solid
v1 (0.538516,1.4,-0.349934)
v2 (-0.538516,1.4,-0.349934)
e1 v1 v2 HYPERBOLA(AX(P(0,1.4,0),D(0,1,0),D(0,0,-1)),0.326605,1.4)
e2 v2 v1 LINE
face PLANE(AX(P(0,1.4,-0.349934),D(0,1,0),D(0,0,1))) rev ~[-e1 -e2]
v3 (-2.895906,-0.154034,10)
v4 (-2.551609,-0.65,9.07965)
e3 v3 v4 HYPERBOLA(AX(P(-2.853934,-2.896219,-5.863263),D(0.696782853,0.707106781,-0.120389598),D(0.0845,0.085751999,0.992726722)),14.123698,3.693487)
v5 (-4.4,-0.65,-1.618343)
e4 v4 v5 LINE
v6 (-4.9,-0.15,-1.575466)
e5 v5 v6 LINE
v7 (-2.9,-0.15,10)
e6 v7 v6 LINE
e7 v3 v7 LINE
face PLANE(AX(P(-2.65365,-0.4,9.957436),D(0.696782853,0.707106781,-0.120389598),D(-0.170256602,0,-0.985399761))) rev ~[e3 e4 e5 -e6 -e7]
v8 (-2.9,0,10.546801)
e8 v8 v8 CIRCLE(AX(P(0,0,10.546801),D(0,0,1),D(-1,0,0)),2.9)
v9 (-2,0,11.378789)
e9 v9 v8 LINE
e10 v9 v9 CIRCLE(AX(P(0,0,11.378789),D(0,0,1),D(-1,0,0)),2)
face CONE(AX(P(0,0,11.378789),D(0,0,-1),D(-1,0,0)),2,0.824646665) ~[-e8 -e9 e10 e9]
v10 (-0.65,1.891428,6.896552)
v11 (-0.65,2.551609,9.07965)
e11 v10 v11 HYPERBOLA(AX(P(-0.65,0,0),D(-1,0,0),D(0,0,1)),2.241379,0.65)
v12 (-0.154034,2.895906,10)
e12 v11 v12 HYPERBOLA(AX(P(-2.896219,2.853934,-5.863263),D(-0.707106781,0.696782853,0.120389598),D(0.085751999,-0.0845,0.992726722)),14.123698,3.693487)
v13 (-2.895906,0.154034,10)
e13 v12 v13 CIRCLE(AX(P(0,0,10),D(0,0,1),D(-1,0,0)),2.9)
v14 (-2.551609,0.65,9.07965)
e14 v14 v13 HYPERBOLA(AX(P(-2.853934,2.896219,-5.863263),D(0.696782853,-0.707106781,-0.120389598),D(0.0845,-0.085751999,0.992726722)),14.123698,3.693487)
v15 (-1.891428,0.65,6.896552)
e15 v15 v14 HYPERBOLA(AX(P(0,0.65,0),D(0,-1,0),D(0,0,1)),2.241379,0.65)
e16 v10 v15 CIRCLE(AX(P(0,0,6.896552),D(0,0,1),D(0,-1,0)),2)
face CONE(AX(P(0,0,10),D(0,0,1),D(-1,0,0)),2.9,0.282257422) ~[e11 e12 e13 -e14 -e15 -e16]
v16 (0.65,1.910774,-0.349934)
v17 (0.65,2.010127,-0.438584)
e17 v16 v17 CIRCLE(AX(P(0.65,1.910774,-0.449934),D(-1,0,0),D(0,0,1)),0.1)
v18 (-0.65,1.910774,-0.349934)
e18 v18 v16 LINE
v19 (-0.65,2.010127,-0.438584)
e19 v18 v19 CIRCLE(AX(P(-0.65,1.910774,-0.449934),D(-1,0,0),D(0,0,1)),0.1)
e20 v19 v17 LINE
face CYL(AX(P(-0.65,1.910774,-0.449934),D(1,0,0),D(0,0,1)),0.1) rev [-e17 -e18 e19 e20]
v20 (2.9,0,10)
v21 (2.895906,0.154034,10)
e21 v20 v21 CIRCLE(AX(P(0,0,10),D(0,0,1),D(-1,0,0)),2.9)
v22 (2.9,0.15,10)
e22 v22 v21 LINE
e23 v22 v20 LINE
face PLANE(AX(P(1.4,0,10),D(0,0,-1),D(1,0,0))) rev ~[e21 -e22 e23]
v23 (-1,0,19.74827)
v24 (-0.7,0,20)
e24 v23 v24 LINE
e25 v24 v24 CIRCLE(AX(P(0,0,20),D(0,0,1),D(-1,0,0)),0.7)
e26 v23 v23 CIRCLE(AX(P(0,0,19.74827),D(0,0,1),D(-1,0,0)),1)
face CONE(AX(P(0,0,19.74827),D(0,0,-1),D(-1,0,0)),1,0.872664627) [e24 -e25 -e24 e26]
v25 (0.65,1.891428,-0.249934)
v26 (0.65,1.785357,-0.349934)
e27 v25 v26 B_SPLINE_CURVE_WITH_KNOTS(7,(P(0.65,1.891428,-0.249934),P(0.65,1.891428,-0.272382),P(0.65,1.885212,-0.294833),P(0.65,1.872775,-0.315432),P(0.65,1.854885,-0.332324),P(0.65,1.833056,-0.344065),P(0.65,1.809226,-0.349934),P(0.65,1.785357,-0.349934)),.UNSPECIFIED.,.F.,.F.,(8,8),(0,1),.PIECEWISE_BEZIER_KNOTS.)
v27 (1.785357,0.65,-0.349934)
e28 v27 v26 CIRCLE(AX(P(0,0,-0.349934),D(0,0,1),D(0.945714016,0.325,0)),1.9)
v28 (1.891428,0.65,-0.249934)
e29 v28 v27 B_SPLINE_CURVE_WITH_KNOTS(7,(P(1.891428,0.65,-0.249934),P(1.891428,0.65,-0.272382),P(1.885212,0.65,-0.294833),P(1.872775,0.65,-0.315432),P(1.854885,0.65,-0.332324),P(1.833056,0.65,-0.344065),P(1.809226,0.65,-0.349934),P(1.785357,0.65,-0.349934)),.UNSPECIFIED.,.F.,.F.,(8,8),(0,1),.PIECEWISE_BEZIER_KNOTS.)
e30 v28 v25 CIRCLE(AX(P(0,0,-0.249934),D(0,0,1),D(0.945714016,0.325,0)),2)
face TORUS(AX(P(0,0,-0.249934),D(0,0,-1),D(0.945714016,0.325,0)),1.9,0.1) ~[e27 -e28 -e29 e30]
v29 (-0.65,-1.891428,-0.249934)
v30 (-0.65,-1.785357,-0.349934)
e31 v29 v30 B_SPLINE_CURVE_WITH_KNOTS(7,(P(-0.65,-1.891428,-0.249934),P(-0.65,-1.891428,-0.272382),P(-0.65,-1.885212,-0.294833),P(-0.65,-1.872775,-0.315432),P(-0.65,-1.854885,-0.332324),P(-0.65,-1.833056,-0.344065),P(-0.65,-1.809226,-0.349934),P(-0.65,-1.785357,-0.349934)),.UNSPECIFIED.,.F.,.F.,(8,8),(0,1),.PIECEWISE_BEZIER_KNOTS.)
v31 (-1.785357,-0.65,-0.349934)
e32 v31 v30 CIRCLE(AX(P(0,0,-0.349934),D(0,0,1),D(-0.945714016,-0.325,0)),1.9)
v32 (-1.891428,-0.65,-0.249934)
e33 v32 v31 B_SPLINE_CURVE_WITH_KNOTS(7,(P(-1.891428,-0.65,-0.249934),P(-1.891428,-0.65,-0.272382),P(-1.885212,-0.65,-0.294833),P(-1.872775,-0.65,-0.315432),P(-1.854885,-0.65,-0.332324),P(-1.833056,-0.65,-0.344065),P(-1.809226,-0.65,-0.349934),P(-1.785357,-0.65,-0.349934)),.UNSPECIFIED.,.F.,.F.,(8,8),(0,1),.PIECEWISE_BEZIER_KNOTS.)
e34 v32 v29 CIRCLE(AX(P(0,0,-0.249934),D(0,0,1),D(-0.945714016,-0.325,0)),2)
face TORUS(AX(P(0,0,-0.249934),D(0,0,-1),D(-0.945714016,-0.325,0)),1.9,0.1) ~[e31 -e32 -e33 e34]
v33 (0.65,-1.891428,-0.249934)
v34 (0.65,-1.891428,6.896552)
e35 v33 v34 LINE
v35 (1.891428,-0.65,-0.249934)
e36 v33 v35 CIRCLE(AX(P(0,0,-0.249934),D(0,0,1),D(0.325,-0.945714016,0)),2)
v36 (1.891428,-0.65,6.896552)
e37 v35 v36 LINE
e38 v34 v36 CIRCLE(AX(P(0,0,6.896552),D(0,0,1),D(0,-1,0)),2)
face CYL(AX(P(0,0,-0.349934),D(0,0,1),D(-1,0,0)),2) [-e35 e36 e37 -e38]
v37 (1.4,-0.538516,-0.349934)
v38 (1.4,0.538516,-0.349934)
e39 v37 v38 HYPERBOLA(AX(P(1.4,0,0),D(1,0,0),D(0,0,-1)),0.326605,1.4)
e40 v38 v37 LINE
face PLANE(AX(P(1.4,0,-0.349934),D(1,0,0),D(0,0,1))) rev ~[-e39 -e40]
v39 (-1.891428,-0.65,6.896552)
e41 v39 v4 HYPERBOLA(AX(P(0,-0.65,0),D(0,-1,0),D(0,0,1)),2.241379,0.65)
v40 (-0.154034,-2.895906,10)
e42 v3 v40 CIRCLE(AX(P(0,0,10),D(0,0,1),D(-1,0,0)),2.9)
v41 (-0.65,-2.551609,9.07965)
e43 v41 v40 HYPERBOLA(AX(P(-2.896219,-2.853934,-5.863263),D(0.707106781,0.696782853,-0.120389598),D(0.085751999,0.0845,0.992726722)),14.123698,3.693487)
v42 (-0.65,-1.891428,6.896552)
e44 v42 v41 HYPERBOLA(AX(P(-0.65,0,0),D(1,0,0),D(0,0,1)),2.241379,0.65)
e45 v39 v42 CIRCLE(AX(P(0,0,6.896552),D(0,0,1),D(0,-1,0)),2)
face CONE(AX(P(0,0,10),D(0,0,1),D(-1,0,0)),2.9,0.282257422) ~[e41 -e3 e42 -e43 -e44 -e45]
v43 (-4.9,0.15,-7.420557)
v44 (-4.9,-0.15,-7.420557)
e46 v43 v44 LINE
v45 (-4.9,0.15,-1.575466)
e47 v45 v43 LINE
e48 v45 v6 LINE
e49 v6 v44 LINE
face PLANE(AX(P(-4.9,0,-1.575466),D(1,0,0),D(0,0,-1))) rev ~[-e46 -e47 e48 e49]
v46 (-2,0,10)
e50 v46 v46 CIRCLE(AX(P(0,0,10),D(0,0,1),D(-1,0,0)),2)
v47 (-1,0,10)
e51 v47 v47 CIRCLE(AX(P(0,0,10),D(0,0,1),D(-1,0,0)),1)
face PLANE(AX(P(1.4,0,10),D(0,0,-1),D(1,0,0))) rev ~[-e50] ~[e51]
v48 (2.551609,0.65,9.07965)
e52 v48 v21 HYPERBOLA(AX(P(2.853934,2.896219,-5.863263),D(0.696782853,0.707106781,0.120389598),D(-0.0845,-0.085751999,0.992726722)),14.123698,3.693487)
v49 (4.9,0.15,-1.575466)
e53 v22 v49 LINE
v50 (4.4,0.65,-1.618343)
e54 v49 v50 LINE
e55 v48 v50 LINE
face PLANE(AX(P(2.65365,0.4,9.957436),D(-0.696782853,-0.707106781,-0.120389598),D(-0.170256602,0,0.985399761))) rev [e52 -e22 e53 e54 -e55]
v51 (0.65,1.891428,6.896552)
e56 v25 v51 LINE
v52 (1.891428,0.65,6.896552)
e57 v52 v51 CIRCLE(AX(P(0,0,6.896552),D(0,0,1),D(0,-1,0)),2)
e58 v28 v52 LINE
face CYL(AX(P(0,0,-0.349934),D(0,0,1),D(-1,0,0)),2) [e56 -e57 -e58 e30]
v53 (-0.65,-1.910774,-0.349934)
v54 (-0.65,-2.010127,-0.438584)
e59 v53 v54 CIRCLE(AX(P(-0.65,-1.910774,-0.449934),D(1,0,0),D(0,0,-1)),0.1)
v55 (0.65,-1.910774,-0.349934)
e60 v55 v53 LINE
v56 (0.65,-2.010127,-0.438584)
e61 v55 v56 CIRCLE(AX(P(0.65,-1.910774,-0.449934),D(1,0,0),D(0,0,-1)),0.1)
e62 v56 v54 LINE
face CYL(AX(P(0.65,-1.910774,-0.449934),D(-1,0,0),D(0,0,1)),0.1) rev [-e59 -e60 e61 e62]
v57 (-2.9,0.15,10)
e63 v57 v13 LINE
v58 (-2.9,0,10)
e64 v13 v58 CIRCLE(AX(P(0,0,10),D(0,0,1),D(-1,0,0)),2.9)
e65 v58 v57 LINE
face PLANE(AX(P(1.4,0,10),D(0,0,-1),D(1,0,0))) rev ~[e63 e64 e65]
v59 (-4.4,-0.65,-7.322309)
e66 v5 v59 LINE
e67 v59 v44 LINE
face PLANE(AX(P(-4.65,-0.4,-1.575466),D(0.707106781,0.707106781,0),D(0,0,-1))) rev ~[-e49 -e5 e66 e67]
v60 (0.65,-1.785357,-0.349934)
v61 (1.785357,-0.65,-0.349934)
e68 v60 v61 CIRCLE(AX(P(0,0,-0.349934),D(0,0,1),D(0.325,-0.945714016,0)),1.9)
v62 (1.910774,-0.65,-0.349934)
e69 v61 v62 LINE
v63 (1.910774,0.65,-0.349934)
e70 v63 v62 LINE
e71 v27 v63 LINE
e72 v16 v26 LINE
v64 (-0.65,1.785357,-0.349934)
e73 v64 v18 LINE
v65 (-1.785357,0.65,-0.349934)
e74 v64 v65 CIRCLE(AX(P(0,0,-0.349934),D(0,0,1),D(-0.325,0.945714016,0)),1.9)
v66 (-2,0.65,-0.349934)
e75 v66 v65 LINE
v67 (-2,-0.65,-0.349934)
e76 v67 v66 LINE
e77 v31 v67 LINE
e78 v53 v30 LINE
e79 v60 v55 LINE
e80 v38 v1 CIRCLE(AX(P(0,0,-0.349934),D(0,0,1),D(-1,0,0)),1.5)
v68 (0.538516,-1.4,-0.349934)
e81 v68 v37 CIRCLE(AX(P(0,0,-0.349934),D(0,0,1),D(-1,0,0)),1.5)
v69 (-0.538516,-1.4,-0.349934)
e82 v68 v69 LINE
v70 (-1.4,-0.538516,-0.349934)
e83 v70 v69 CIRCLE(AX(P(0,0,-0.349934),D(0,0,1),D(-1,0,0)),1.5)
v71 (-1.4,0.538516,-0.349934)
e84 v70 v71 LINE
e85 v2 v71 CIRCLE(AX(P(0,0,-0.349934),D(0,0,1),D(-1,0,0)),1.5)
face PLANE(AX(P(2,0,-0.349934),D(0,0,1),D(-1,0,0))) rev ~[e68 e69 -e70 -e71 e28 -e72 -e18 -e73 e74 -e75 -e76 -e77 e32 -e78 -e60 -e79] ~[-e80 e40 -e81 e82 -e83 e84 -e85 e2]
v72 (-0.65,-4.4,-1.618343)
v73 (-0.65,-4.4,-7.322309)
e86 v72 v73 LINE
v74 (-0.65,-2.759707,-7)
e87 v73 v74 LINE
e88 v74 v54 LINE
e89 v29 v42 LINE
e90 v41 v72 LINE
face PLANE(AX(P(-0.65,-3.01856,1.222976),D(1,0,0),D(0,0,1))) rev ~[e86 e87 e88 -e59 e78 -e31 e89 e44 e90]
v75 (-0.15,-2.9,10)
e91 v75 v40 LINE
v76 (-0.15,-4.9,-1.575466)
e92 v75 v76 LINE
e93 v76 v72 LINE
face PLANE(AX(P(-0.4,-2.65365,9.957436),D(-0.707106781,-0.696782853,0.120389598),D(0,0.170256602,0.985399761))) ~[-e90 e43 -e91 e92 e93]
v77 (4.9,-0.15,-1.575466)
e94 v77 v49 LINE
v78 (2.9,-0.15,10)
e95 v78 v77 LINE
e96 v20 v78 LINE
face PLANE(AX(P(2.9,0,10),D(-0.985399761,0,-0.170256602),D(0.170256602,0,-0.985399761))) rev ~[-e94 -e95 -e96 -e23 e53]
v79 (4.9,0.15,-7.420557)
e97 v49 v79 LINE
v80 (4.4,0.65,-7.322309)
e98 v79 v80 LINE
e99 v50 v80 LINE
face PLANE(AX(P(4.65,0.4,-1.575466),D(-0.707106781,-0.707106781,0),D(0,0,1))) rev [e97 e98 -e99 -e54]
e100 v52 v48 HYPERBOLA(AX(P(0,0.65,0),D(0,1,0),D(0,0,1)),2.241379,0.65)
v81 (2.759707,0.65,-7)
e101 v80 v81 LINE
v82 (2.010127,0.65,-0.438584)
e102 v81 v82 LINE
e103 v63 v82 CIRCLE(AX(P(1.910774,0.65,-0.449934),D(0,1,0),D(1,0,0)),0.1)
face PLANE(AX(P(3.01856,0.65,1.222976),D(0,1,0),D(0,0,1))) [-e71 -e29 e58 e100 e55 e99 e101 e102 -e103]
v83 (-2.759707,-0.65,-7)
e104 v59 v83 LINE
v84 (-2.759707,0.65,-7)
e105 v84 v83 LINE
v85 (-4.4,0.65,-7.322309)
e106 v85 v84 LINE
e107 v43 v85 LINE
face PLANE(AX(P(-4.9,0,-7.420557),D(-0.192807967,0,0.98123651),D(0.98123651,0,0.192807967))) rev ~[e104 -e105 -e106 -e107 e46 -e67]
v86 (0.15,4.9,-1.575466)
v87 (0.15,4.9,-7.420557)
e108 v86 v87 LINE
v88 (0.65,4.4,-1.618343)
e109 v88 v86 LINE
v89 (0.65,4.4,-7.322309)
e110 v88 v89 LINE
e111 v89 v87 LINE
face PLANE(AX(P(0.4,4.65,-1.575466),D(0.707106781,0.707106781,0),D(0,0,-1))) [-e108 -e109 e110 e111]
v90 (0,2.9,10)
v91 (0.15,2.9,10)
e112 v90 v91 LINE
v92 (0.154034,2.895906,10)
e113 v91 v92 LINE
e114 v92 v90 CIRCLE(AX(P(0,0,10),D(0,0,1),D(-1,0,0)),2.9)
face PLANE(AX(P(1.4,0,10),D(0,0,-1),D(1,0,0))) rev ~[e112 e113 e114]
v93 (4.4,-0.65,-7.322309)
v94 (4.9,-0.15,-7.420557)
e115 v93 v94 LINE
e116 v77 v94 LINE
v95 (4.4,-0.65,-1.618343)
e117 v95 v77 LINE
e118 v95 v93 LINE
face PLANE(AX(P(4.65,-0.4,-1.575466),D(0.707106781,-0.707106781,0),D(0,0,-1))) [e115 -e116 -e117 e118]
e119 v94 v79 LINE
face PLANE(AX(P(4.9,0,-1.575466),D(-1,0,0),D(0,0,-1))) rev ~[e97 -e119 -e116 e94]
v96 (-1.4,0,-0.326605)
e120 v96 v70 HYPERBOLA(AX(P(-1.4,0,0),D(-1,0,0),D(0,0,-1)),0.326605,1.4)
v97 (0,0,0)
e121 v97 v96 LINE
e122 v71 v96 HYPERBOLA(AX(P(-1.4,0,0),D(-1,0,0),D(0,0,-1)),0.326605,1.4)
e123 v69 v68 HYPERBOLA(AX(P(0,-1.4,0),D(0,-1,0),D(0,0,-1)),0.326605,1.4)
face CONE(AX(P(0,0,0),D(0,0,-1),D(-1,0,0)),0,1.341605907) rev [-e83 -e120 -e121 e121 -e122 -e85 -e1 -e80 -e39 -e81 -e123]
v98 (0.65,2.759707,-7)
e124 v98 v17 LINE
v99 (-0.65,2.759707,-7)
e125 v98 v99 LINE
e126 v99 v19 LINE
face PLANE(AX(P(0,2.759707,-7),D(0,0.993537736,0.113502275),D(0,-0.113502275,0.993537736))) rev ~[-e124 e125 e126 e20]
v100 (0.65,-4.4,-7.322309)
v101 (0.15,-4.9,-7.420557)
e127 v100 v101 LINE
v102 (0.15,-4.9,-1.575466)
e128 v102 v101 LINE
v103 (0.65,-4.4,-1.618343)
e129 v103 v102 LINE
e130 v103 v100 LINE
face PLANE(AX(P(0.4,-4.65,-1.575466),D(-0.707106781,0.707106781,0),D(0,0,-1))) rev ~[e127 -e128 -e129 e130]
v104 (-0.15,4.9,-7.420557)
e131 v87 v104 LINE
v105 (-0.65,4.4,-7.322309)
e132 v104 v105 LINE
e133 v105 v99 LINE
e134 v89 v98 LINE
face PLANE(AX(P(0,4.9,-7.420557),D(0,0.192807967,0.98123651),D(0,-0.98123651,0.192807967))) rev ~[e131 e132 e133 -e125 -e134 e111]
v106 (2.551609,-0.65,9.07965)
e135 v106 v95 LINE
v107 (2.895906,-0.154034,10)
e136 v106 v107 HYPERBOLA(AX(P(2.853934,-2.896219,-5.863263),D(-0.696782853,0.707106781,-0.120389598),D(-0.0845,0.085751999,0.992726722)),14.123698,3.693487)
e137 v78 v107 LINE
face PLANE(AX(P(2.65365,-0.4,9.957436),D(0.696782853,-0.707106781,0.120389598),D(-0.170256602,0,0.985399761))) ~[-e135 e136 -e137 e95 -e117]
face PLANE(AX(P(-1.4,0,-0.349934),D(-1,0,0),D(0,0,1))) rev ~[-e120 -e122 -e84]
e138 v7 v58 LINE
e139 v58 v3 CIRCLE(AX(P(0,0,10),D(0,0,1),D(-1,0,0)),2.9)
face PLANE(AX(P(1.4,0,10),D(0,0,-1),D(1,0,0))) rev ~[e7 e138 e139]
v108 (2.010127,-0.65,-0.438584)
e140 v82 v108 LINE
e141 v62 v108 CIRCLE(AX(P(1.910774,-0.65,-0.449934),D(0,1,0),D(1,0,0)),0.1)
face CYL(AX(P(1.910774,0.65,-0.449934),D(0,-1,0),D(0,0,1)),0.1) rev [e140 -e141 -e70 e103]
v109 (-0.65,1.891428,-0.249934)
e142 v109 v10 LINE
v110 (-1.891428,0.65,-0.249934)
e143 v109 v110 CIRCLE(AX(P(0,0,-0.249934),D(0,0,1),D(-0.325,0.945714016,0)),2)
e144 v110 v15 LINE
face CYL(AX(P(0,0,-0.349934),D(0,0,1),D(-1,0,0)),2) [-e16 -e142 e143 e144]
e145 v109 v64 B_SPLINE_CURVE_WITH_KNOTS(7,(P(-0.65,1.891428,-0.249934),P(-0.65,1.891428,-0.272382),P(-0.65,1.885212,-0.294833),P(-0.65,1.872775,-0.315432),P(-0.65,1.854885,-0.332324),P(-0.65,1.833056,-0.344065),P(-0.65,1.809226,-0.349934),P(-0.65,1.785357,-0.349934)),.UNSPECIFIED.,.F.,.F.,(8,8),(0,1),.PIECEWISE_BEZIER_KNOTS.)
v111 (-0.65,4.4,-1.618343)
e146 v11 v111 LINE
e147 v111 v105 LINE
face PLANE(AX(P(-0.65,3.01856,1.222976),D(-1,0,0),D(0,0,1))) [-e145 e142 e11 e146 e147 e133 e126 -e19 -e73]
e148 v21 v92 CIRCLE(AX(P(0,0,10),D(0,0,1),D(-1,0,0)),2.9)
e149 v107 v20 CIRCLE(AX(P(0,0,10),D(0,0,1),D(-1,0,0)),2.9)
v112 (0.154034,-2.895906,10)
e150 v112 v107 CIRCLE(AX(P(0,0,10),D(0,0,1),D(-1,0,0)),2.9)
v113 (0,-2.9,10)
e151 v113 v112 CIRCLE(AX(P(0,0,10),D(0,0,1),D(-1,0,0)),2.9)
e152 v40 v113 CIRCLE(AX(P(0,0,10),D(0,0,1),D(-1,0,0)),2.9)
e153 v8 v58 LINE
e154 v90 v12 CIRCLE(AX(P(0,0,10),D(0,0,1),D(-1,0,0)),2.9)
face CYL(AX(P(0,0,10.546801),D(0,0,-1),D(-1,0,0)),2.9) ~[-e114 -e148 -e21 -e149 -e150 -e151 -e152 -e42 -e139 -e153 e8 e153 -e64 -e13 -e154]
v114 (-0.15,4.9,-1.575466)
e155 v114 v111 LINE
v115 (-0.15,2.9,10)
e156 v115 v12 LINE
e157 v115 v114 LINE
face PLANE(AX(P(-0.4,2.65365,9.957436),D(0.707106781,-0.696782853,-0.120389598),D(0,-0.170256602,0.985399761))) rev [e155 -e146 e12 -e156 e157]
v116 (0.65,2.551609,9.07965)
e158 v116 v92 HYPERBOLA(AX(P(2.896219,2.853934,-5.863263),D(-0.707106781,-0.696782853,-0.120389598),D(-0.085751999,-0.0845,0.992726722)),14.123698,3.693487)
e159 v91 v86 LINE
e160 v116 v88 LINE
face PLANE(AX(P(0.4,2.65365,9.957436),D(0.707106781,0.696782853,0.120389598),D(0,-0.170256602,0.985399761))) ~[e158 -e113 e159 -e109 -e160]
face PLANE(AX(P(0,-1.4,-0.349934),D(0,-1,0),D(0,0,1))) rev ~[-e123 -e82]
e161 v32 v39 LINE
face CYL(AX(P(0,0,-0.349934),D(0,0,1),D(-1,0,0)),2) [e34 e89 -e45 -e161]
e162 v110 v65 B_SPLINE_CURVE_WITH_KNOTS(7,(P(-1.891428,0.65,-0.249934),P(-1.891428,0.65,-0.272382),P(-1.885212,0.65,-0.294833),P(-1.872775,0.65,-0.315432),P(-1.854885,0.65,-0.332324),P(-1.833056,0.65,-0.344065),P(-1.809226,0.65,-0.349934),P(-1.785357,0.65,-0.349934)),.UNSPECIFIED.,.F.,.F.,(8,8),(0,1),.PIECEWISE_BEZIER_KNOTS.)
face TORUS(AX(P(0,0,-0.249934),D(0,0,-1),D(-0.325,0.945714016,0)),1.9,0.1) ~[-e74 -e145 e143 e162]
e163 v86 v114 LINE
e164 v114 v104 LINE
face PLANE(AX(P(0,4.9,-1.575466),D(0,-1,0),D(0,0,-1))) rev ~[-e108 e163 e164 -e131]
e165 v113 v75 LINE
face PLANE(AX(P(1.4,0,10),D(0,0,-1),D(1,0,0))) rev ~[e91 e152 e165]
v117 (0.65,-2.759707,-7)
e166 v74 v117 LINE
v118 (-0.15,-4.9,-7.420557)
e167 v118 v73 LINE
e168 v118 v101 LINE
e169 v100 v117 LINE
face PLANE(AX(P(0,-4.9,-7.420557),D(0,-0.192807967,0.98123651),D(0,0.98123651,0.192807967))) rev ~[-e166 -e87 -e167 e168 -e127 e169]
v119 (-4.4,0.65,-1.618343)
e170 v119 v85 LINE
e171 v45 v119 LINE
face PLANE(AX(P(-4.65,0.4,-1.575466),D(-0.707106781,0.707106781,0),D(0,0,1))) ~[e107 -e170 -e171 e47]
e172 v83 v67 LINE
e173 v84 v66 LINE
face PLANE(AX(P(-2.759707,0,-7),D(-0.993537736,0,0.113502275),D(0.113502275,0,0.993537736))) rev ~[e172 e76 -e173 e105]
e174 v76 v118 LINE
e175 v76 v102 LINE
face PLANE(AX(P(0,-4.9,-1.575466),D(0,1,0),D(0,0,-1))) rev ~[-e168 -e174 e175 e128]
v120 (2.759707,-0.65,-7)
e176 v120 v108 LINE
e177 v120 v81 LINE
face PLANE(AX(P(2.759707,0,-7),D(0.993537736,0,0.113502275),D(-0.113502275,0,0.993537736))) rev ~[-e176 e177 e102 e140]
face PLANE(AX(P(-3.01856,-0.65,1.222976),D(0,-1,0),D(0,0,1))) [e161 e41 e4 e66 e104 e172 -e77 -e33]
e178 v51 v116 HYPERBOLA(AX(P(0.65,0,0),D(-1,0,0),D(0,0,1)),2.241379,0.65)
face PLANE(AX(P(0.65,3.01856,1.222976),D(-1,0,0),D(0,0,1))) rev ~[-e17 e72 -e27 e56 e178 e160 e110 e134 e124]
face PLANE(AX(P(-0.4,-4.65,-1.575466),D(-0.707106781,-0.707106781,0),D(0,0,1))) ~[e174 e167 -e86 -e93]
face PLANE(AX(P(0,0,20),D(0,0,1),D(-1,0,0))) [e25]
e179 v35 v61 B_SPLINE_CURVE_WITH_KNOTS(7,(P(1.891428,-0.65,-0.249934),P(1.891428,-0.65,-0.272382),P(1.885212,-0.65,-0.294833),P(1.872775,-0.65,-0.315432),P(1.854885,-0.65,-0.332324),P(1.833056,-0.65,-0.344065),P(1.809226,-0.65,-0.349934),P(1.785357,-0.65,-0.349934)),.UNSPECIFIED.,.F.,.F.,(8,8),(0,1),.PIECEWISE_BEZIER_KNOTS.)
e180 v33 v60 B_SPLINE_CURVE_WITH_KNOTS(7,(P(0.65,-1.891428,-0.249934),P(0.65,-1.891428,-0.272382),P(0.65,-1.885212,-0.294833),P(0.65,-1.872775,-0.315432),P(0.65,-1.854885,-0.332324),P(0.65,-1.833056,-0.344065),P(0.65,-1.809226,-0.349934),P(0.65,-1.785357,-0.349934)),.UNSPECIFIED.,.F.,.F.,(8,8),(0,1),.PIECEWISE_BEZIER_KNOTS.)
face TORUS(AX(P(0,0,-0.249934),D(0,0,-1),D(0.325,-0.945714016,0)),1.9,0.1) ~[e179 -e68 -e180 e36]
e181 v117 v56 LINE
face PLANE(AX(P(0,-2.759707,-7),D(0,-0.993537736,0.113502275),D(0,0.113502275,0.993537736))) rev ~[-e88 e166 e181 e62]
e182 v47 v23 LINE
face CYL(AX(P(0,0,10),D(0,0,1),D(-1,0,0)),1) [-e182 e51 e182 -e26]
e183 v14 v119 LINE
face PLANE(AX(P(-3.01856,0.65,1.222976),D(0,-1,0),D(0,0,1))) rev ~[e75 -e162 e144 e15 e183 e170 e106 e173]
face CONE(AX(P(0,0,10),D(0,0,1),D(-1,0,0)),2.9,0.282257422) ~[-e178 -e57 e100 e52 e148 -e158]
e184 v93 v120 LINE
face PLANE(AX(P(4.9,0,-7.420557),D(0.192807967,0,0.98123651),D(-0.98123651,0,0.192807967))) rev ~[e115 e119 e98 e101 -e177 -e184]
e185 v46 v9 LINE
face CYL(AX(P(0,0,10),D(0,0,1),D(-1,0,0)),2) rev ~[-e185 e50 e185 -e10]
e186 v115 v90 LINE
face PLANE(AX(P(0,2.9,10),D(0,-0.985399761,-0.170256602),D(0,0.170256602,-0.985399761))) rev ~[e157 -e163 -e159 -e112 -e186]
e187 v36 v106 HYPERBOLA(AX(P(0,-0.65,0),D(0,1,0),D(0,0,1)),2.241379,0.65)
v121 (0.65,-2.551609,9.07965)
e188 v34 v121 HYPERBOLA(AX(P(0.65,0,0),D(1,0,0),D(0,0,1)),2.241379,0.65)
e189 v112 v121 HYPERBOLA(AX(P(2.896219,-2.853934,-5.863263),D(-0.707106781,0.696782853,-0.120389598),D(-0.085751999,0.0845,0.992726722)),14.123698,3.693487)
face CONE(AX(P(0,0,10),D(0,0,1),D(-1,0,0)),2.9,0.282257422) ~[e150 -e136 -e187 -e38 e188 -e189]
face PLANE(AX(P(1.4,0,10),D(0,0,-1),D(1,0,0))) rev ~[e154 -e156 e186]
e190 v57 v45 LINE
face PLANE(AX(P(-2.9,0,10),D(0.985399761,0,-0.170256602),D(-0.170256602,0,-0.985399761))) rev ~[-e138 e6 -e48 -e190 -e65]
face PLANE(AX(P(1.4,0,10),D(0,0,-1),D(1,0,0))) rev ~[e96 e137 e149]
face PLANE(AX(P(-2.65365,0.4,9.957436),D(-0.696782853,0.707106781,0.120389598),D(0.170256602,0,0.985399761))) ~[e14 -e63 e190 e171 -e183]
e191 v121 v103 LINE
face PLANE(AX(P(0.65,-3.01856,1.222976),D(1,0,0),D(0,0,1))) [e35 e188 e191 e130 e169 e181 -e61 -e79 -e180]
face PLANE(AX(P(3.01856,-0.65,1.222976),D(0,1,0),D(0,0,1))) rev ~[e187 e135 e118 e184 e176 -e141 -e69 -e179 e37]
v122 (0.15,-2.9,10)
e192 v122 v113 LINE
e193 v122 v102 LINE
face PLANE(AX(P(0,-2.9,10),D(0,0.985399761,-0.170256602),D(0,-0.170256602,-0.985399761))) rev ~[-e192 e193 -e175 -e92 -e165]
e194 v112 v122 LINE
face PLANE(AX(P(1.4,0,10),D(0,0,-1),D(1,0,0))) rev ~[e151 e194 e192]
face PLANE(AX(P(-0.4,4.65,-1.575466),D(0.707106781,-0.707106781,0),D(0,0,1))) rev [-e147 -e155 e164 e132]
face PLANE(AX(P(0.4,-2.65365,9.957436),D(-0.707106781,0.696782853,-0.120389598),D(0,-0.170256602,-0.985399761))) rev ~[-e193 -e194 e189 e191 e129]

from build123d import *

# Parameters (mm, degrees)
EXTRUDE_1_DEPTH                      = 0.65
CHAMFER_1_SIZE                       = 0.5
PATTERN_CIRCULAR_2_COUNT             = 4
CHAMFER_1_OF_PATTERN_CIRCULAR_2_SIZE = 0.5
FILLET_1_R                           = 0.1


with BuildPart() as part:
    # 스케치1 → 회전1 (revolve)
    with BuildSketch(Plane(origin=(0, 0, 0), x_dir=(1, 0, 0), z_dir=(0, 1, 0)), mode=Mode.PRIVATE) as revolve_1_sk:
        Polygon((0, 0), (1.5, 0.34993434), (2, 0.34993434), (2, -10), (1, -10), (1, -19.748270111), (0.7, -20), (0, -20), align=None)
    revolve(revolve_1_sk.sketch.rotate(Axis((0, 0, 0), (0, 0, 1)), 180), axis=Axis((0, 0, 0), (0, 0, 1)))

    # 스케치2 → 보스-돌출1 (add, symmetric)
    with BuildSketch(Plane(origin=(0, 0, 0), x_dir=(0, 0, -1), z_dir=(1, 0, 0))):
        Polygon((-10, 2.9), (1.575466057, 4.9), (7.420556651, 4.9), (7, 2.759707009), (0.34993434, 2), (0.34993434, 1.4), (-10, 1.4), align=None)
    extrude_1 = extrude(amount=EXTRUDE_1_DEPTH, both=True)

    # 모따기1
    chamfer_1_edges = [part.edges().sort_by_distance(p)[0] for p in [
        (0.65, 4.9, -4.498011354),
        (0.65, 3.9, 4.212266971),
        (-0.65, 4.9, -4.498011354),
        (-0.65, 3.9, 4.212266971),
    ]]
    chamfer(chamfer_1_edges, length=CHAMFER_1_SIZE)

    # 원형 패턴2: 보스-돌출1 ×4 about axis
    pattern_circular_2_axis = Axis((0, 0, 0), (0, 0, 1))
    for i in range(1, PATTERN_CIRCULAR_2_COUNT):
        add(extrude_1.rotate(pattern_circular_2_axis, i * 360 / PATTERN_CIRCULAR_2_COUNT))

    # 모따기1 of 원형 패턴2
    chamfer_1_of_pattern_circular_2_edges = [part.edges().sort_by_distance(p)[0] for p in [
        (-4.9, 0.65, -4.498011354),
        (-3.9, 0.65, 4.212266971),
        (-4.9, -0.65, -4.498011354),
        (-3.9, -0.65, 4.212266971),
        (-0.65, -4.9, -4.498011354),
        (-0.65, -3.9, 4.212266971),
        (0.65, -4.9, -4.498011354),
        (0.65, -3.9, 4.212266971),
        (4.9, -0.65, -4.498011354),
        (3.9, -0.65, 4.212266971),
        (4.9, 0.65, -4.498011354),
        (3.9, 0.65, 4.212266971),
    ]]
    chamfer(chamfer_1_of_pattern_circular_2_edges, length=CHAMFER_1_OF_PATTERN_CIRCULAR_2_SIZE)

    # 필렛1
    fillet_1_edges = [part.edges().sort_by_distance(p)[0] for p in [
        (0, -2, -0.34993434),
        (-1.414213562, 1.414213562, -0.34993434),
        (1.414213562, 1.414213562, -0.34993434),
        (0, 2, -0.34993434),
        (1.414213562, -1.414213562, -0.34993434),
        (2, 0, -0.34993434),
        (-1.414213562, -1.414213562, -0.34993434),
    ]]
    fillet(fillet_1_edges, radius=FILLET_1_R)

    # 스케치3 → 회전2 (revolve)
    with BuildSketch(Plane(origin=(0, 0, 0), x_dir=(0, 0, -1), z_dir=(1, 0, 0)), mode=Mode.PRIVATE) as revolve_2_sk:
        Polygon((-10, 2.9), (0, 0), (-10, 0), (-10, 2), (-11.378788521, 2), (-10.54680135, 2.9), align=None)
    revolve(revolve_2_sk.sketch.rotate(Axis((0, 0, 0), (0, 0, 1)), 90), axis=Axis((0, 0, 0), (0, 0, 1)))


solid = part.part
